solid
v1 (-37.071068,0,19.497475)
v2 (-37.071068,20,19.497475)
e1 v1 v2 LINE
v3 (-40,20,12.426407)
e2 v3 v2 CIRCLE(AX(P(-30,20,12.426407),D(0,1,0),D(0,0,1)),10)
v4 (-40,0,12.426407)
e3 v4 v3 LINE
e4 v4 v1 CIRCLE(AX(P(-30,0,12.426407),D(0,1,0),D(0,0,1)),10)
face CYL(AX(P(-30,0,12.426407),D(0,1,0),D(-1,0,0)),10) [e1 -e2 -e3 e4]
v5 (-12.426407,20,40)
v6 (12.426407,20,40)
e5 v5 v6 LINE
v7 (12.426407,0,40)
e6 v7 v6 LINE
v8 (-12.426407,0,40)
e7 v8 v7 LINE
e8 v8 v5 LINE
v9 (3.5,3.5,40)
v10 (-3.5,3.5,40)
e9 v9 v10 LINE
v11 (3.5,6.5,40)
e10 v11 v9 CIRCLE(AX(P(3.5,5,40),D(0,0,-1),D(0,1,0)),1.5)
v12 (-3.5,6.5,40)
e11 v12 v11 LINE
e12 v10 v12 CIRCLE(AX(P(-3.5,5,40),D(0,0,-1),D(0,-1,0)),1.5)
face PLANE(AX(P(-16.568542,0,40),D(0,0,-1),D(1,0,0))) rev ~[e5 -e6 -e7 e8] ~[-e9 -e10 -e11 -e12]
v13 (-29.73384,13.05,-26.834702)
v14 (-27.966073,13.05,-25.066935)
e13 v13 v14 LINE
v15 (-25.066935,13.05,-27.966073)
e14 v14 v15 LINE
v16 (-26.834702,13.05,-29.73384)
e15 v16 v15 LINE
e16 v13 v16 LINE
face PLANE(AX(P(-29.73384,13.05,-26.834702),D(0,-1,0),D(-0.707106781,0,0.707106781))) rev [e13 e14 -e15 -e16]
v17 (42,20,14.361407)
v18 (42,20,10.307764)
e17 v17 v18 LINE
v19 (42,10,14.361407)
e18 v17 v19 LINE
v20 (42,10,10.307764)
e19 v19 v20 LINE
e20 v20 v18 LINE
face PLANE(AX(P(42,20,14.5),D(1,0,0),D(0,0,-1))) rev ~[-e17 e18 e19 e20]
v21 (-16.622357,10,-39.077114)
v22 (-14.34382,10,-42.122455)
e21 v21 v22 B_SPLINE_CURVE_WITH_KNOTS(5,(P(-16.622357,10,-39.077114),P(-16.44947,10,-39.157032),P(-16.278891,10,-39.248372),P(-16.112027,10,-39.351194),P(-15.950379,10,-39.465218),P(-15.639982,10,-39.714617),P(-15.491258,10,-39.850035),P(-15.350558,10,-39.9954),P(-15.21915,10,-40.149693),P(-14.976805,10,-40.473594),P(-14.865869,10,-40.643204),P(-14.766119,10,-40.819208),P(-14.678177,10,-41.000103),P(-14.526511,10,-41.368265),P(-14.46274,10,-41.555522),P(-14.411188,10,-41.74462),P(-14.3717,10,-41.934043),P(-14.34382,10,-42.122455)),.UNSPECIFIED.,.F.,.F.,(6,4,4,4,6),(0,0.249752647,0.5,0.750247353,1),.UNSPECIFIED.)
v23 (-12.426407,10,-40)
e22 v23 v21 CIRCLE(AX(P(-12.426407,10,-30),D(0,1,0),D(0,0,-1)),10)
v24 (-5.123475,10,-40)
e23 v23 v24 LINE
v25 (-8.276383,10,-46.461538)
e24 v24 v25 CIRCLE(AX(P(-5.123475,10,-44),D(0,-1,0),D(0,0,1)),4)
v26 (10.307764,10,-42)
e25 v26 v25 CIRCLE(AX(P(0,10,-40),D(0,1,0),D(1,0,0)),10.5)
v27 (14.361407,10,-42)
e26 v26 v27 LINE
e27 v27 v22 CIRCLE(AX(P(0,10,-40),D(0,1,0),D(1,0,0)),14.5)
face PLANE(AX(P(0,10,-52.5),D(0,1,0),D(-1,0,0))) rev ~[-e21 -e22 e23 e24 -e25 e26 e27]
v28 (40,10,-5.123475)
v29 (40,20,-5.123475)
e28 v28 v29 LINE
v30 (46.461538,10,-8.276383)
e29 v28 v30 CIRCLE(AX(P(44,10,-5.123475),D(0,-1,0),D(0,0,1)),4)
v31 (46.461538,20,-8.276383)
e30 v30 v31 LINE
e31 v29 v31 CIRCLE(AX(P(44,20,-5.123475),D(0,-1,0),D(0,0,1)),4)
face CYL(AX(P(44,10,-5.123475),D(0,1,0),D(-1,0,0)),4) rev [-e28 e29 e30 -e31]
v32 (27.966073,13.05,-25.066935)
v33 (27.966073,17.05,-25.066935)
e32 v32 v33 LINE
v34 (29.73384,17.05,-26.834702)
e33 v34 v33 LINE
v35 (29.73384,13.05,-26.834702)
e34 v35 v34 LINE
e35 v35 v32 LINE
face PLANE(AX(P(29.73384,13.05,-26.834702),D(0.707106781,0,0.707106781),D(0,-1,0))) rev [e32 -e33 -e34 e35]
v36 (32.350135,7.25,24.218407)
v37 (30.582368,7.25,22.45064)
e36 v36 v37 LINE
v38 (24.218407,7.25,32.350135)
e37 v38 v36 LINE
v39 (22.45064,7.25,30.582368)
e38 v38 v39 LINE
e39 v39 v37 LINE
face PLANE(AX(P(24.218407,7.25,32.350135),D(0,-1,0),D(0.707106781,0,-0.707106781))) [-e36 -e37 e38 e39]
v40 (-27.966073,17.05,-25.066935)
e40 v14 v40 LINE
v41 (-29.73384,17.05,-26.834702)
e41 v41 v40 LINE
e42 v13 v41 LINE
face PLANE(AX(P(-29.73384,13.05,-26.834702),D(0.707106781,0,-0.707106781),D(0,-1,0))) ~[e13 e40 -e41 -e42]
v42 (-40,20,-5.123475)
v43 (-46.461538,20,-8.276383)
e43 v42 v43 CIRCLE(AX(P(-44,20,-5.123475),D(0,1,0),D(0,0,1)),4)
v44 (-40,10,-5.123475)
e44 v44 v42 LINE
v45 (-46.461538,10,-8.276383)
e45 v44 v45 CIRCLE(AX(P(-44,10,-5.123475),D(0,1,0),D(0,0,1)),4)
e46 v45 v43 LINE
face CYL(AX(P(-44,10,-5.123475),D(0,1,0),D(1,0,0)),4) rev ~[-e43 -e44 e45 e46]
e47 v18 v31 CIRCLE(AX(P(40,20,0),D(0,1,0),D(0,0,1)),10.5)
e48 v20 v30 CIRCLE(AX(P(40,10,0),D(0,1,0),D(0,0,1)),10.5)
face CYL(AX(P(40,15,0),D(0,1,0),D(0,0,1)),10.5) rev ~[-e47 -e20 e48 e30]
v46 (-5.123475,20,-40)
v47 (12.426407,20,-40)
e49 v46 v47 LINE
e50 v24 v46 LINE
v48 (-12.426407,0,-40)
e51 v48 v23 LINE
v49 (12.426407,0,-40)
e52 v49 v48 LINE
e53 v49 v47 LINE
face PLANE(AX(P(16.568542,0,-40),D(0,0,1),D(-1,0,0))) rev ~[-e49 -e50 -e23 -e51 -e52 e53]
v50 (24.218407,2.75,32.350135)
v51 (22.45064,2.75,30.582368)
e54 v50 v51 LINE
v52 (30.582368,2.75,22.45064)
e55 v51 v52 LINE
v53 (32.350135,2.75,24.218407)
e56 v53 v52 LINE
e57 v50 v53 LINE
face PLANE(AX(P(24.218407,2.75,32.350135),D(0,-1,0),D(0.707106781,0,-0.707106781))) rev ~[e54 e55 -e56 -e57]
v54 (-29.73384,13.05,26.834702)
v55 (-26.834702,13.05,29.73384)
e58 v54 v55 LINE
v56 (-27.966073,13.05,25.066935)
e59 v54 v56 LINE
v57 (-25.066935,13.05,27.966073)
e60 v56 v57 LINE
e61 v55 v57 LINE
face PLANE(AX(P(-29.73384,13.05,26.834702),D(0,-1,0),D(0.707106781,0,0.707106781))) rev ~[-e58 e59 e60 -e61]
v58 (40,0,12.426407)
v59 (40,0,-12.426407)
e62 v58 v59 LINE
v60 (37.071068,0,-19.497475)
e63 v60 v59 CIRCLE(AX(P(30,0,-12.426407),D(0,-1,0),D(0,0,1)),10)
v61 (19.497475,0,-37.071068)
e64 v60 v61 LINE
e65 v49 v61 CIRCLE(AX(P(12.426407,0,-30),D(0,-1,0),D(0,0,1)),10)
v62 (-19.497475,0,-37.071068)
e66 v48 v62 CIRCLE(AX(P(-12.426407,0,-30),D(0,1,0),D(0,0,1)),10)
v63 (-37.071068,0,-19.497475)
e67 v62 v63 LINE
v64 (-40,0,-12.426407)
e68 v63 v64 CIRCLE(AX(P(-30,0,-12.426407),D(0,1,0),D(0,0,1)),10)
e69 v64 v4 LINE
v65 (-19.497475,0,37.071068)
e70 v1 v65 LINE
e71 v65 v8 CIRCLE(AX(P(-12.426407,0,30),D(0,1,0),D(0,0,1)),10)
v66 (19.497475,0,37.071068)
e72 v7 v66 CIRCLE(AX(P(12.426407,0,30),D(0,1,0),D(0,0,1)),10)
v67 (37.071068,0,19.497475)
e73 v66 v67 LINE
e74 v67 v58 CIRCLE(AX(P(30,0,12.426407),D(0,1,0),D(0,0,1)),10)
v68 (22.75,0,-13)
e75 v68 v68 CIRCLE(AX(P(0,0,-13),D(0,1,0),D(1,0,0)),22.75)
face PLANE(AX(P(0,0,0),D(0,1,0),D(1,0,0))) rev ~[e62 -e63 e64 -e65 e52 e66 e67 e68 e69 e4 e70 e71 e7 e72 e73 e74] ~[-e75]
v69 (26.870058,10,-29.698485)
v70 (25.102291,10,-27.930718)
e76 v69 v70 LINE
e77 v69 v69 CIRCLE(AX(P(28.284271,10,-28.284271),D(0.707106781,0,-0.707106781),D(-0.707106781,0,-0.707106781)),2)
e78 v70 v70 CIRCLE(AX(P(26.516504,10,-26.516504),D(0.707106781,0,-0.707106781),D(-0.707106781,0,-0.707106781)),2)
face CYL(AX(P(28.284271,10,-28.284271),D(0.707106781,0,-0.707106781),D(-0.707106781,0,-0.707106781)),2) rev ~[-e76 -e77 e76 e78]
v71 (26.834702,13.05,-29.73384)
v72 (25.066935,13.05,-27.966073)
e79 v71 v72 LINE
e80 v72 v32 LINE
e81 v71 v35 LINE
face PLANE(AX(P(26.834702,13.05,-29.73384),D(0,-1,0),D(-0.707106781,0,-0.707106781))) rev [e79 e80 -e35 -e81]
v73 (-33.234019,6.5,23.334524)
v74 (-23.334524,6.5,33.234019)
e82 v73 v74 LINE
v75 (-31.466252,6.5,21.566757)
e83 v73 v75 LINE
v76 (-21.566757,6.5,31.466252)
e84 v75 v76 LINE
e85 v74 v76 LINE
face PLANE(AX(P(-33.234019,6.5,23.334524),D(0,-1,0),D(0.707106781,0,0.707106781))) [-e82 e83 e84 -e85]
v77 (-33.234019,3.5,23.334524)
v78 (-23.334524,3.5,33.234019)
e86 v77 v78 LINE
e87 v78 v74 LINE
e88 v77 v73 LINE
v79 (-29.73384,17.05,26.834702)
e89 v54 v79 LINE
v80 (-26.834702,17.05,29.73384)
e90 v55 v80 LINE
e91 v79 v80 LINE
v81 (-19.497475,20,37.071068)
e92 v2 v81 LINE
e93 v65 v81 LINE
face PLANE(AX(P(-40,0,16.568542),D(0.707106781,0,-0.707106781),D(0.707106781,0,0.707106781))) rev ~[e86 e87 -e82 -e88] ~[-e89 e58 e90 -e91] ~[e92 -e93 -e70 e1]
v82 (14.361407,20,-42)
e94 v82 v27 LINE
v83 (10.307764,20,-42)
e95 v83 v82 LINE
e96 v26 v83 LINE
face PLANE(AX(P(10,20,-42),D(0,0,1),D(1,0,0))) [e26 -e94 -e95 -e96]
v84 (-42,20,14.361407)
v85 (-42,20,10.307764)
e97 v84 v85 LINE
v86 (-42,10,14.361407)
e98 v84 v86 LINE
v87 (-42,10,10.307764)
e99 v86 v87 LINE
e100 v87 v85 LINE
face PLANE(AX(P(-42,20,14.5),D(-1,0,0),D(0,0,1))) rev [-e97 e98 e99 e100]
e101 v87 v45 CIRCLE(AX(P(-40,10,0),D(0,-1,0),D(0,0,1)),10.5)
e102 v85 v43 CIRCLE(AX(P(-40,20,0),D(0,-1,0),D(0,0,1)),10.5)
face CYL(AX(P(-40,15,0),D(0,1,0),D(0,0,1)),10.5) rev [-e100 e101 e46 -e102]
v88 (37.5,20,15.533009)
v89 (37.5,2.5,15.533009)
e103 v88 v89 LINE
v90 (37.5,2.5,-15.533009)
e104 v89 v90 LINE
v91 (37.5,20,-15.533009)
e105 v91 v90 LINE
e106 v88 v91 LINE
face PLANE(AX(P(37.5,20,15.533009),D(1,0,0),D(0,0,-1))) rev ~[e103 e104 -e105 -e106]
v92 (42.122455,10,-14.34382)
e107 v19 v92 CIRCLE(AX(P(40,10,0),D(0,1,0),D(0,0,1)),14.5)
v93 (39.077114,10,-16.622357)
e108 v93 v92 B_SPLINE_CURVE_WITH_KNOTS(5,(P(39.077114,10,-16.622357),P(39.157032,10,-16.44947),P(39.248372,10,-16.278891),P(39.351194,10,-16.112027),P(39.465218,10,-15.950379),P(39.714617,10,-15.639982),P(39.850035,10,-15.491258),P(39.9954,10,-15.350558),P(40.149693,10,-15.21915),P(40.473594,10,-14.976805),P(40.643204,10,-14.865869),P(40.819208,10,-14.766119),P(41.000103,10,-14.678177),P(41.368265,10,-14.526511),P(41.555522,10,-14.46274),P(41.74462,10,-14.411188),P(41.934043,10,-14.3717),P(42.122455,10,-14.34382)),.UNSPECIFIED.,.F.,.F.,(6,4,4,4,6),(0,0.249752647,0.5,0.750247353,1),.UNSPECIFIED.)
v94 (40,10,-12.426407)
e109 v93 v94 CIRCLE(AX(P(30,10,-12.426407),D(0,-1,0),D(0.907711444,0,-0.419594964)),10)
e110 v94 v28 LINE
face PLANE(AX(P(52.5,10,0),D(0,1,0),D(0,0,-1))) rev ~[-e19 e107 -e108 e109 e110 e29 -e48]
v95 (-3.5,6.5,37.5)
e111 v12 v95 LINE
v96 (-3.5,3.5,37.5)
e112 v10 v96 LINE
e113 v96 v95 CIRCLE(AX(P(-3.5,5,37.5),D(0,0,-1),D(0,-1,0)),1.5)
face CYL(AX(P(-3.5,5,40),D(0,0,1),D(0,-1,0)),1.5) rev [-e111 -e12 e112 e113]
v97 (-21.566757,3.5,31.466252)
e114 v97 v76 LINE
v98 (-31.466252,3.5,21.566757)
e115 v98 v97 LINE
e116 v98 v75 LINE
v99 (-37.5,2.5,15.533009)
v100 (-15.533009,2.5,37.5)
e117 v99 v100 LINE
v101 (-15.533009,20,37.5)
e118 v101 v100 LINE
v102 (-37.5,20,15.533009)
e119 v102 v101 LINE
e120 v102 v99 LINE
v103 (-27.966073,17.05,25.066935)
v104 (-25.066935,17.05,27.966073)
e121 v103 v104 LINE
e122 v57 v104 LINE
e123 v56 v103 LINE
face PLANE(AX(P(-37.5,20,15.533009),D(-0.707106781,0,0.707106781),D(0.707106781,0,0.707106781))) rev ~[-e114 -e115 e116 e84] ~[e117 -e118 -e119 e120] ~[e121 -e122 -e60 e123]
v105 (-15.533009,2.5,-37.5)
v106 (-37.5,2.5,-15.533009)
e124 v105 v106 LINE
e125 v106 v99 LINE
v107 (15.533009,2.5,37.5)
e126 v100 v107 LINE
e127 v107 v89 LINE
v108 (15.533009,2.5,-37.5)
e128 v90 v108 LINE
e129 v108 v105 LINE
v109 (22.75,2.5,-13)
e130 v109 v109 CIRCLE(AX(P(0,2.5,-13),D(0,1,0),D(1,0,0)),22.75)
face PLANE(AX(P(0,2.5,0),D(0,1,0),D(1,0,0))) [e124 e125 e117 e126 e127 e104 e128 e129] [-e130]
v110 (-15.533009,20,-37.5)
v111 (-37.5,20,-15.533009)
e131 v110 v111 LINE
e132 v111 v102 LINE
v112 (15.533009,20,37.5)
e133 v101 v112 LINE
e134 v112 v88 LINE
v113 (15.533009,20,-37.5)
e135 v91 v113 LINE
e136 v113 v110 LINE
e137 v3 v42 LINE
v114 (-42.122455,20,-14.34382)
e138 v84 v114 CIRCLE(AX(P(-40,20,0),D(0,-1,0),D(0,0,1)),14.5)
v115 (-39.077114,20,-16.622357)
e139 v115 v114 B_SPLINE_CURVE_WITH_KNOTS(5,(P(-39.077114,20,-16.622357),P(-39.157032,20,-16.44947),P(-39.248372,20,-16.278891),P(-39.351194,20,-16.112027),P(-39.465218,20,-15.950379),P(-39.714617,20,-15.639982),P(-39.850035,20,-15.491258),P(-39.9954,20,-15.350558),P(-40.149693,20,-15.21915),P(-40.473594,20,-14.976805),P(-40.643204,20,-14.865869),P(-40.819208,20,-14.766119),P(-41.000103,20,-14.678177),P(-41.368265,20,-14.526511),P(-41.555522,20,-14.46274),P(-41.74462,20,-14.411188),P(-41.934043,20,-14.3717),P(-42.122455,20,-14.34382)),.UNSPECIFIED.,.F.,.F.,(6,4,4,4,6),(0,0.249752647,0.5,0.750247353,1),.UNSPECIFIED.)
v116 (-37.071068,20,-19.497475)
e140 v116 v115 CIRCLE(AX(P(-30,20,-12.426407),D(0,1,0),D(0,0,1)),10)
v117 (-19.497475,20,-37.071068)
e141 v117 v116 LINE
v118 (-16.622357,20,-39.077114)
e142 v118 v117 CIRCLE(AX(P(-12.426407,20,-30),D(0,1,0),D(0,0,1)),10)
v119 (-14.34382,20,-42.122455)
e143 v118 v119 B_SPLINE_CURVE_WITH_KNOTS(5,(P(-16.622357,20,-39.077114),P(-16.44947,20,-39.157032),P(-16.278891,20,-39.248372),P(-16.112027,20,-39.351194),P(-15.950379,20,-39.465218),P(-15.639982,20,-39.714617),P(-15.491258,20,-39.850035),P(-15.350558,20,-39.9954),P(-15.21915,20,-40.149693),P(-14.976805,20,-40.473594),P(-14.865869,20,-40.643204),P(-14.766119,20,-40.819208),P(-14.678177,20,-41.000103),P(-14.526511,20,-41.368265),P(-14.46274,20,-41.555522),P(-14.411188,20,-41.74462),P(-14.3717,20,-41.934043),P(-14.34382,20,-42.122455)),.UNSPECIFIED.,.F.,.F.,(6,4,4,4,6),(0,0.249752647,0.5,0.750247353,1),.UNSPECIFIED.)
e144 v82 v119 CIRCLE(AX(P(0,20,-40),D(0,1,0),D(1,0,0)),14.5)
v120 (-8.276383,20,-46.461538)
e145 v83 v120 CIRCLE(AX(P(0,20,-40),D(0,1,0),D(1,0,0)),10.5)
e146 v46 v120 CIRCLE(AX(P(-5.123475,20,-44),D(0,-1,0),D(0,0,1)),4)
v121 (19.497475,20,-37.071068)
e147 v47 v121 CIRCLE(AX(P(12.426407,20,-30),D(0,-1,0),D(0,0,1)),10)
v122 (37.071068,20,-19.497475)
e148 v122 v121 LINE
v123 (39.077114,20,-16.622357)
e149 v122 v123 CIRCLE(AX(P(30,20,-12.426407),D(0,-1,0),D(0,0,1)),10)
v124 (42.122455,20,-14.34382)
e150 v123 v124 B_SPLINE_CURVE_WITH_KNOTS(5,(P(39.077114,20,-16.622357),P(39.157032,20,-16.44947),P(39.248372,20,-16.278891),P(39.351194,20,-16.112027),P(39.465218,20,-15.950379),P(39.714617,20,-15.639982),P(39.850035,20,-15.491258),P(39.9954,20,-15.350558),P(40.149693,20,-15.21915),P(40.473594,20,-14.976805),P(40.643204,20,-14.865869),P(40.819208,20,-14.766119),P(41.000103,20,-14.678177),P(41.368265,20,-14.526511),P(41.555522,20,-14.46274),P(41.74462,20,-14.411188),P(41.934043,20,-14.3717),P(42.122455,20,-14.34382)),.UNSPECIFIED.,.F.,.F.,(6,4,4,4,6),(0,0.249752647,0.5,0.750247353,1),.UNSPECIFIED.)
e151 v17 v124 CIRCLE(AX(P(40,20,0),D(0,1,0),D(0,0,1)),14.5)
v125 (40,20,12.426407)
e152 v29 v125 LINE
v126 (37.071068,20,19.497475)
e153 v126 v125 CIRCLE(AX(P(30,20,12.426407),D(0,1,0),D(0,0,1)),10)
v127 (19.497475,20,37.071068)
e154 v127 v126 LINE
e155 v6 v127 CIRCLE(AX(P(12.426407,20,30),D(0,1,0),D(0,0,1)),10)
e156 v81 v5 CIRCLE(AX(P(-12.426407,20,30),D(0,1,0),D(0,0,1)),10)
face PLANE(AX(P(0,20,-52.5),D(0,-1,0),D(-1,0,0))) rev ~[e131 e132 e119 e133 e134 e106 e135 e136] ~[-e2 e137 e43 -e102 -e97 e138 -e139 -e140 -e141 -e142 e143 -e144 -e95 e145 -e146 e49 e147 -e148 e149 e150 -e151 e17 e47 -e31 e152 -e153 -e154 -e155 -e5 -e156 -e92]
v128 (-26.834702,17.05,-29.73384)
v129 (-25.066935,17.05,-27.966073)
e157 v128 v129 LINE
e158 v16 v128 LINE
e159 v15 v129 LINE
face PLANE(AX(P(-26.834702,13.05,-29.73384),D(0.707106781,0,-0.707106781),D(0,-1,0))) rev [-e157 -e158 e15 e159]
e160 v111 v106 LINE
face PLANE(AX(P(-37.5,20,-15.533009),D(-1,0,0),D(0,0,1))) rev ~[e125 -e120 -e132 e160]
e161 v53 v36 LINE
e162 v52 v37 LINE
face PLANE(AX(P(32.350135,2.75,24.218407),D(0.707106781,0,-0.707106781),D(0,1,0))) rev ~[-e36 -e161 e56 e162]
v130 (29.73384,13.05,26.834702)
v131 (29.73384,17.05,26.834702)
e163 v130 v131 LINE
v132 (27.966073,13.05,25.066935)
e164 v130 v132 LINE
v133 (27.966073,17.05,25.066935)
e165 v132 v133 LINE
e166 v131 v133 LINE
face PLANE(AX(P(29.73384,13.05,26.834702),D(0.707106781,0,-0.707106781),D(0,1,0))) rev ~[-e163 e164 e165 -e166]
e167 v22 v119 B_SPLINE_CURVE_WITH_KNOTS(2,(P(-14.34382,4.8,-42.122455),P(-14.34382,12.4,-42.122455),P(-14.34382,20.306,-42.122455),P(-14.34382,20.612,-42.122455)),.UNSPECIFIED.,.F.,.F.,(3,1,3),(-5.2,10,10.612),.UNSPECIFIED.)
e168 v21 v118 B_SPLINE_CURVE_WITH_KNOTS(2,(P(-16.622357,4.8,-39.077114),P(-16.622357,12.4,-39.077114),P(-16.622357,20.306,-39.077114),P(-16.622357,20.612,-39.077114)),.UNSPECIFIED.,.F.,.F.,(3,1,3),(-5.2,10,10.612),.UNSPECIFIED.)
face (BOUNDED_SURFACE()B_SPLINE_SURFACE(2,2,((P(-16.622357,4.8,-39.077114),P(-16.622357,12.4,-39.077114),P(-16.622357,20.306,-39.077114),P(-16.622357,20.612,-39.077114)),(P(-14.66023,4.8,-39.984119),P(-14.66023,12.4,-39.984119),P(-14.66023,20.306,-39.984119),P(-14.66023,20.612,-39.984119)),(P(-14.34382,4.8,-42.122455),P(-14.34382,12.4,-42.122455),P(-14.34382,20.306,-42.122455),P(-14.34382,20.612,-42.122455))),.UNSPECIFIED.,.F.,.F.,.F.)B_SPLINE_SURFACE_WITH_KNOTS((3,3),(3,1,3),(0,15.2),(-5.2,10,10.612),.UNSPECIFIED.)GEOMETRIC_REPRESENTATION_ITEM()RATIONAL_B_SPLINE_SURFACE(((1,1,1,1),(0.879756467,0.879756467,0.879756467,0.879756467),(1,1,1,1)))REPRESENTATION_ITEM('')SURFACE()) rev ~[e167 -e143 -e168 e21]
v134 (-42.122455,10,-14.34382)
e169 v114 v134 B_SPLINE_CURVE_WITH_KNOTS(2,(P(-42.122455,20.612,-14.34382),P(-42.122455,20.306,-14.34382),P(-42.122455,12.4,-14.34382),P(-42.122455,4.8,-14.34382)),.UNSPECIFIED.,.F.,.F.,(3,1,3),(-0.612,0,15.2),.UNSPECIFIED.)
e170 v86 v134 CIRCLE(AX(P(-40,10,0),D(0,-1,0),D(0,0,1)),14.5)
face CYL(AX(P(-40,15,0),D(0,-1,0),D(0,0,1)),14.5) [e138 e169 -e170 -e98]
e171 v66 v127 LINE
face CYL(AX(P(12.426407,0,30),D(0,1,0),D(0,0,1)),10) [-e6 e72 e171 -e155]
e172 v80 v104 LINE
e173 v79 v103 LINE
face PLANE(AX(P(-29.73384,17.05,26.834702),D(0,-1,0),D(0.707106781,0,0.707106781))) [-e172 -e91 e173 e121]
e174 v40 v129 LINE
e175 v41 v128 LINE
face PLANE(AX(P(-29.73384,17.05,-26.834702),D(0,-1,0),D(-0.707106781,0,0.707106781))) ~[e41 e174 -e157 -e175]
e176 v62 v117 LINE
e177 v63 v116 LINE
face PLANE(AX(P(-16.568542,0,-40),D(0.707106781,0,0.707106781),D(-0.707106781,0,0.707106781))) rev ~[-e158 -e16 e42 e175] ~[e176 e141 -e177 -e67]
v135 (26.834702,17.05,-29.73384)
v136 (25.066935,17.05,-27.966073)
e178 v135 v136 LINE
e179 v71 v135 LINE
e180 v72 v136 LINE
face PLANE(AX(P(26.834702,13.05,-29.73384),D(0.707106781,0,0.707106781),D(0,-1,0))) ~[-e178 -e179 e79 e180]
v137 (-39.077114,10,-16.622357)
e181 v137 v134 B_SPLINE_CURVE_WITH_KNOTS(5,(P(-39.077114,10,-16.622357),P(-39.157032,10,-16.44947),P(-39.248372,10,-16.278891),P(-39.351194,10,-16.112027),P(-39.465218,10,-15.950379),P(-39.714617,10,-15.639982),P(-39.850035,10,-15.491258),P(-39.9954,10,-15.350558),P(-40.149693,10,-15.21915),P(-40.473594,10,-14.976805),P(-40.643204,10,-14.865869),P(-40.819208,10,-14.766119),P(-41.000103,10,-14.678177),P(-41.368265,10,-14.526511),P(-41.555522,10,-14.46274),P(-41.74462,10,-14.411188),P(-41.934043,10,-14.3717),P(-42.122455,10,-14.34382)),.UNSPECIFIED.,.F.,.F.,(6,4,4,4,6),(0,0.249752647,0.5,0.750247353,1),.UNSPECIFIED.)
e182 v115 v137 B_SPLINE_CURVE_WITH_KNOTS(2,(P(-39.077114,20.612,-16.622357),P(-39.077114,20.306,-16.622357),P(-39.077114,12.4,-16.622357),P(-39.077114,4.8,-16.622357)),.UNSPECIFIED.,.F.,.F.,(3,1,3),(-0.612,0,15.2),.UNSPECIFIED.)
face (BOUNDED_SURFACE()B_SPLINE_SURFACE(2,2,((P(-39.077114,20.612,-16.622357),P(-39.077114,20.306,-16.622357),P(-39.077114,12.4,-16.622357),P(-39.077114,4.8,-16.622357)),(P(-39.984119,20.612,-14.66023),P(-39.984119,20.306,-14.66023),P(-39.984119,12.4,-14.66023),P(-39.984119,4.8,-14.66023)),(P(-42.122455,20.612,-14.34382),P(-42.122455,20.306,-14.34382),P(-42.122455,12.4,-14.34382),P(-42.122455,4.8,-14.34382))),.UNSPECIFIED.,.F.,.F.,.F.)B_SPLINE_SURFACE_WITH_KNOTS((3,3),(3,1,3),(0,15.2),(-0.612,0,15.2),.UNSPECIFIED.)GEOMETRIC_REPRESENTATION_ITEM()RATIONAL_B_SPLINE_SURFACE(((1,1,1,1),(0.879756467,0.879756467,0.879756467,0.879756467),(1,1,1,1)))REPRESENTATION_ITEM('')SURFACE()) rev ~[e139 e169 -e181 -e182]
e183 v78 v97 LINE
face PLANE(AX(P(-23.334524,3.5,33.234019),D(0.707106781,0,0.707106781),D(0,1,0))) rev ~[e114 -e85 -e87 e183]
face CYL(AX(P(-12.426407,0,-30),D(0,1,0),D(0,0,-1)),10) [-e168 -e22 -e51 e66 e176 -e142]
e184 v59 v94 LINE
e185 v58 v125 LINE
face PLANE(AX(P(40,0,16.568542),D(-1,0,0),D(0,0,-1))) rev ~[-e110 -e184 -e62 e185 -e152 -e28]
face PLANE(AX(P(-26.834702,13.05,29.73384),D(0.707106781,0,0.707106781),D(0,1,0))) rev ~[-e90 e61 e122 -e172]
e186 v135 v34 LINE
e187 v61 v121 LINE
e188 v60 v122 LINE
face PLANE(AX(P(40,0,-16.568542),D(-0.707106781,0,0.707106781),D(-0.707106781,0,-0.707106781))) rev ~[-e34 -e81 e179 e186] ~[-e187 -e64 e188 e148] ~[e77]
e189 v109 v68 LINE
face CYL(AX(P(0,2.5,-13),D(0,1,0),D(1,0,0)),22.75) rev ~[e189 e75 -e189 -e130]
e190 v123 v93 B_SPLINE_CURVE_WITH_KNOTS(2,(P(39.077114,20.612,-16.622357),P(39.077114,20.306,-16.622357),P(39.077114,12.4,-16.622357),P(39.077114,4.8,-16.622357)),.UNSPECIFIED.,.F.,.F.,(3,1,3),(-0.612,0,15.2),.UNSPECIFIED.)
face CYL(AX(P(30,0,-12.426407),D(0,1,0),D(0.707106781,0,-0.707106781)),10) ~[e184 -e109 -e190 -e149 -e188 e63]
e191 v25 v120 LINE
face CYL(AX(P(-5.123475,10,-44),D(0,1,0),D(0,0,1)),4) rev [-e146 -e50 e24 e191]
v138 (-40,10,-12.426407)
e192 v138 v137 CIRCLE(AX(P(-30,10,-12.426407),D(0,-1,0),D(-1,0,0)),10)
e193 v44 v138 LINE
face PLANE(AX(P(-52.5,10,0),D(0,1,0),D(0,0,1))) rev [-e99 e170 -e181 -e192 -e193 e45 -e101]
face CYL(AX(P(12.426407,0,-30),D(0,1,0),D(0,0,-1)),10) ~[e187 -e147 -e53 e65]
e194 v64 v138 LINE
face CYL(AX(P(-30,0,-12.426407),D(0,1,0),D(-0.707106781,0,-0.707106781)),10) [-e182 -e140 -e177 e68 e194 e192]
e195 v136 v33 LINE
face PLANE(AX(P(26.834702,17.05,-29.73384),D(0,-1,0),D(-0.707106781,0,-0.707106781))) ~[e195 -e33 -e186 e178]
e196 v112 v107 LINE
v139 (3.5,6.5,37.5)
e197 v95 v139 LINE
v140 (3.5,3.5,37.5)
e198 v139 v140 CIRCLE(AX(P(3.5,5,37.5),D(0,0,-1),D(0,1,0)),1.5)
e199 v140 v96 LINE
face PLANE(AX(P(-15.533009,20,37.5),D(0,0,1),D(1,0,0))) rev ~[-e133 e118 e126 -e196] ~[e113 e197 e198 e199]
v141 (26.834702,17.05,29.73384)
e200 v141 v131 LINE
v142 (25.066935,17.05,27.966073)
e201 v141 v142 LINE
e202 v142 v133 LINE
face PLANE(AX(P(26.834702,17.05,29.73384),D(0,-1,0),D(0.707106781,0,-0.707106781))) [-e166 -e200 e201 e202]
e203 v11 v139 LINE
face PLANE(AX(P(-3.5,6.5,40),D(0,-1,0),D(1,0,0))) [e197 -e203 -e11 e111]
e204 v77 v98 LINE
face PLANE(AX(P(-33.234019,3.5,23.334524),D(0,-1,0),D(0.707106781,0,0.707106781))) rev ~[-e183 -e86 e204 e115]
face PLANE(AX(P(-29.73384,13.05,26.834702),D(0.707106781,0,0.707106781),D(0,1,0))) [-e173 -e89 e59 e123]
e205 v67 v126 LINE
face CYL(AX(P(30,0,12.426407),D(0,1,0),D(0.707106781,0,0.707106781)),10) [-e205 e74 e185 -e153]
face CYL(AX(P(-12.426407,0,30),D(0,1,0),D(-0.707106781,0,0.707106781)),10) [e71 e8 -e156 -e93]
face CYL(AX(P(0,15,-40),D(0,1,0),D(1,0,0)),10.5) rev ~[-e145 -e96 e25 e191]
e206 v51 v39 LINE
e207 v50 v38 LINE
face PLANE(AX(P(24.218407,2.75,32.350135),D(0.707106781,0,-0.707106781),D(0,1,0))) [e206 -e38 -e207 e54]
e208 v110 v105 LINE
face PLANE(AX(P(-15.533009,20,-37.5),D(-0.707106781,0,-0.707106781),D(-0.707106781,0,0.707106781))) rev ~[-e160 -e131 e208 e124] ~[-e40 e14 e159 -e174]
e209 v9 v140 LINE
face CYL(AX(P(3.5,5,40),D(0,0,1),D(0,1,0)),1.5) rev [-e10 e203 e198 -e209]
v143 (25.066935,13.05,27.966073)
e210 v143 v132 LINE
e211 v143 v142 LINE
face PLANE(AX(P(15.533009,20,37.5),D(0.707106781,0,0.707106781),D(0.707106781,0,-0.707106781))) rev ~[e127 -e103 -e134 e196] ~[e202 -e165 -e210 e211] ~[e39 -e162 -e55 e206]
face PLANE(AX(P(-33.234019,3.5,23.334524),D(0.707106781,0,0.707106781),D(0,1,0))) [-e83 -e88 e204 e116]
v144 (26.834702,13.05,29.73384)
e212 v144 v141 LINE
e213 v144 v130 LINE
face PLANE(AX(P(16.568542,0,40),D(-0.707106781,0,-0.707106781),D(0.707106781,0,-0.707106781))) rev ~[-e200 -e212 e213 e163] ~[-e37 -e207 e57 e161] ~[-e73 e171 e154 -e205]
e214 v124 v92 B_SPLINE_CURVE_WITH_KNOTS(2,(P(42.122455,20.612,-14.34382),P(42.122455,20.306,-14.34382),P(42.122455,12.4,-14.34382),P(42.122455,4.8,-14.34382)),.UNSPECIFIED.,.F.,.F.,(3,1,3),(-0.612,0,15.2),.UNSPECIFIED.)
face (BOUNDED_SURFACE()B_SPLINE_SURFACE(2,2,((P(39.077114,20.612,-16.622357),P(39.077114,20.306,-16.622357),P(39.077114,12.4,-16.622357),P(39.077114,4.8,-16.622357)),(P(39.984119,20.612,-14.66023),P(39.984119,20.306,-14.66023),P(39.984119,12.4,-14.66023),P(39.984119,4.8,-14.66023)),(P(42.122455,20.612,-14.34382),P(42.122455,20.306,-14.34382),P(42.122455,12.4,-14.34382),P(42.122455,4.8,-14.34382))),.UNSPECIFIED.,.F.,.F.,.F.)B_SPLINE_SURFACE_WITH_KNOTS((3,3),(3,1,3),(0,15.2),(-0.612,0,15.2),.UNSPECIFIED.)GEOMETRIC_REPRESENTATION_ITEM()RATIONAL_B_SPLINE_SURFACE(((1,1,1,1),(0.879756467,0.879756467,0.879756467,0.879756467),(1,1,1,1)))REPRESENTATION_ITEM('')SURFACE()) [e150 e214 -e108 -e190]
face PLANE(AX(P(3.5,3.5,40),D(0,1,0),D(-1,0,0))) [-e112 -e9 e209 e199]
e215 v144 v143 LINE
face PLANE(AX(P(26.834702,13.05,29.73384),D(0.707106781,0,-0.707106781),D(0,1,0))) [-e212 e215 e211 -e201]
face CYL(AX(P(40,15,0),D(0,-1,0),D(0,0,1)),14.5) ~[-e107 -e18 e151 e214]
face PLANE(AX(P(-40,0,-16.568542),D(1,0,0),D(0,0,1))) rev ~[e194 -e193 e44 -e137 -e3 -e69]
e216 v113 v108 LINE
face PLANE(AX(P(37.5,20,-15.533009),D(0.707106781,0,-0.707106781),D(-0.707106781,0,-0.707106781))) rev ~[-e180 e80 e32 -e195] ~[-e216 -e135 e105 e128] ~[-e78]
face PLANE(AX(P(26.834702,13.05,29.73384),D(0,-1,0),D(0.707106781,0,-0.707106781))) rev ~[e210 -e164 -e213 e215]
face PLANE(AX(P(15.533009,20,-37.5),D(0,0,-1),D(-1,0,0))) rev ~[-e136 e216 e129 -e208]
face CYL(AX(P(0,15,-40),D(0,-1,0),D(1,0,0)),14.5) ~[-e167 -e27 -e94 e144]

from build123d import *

# Parameters (mm, degrees)
BOSS_EXTRUDE1_DEPTH = 20
SKETCH5_W           = 4
SKETCH5_H           = 10
SKETCH16_W          = 2
SKETCH16_H          = 4.5
CUT_EXTRUDE9_DEPTH  = 10
SKETCH19_W          = 4
SKETCH19_H          = 10
CUT_EXTRUDE4_DEPTH  = 17.5
CUT_EXTRUDE5_DEPTH  = 2.5
SKETCH15_W          = 11.5
SKETCH15_H          = 4.5
CUT_EXTRUDE8_DEPTH  = 2.5
SKETCH17_W          = 14
SKETCH17_H          = 3
CUT_EXTRUDE10_DEPTH = 2.5
SKETCH21_W          = 4.5
SKETCH21_H          = 2
CUT_EXTRUDE11_DEPTH = 10
SKETCH22_R          = 2
CUT_EXTRUDE12_DEPTH = 2.5
FILLET1_R           = 10
FILLET2_R           = 4
SKETCH24_W          = 4.1
SKETCH24_H          = 4
CUT_EXTRUDE14_DEPTH = 77.5
SKETCH28_W          = 4.1
SKETCH28_H          = 4
CUT_EXTRUDE15_DEPTH = 77.5
SKETCH23_R          = 22.75
CUT_EXTRUDE13_DEPTH = 2.5


with BuildPart() as part:
    # Sketch1 → Boss-Extrude1 (new body)
    with BuildSketch(Plane(origin=(0, 0, 0), x_dir=(1, 0, 0), z_dir=(0, 1, 0))):
        Polygon((16.568542495, 40), (-16.568542495, 40), (-40, 16.568542495), (-40, -16.568542495), (-16.568542495, -40), (16.568542495, -40), (40, -16.568542495), (40, 16.568542495), align=None)
    extrude(amount=BOSS_EXTRUDE1_DEPTH)

    # Sweep9: sweep along a path in Sketch7
    with BuildLine(Plane(origin=(0, 15, 0), x_dir=(1, 0, 0), z_dir=(0, 1, 0))) as sweep9_path:
        ThreePointArc((40, -10.5), (50.5, 0), (40, 10.5))
    # Sketch5 → Sweep9 (sweep)
    with BuildSketch(Plane(origin=(40, 0, 0), x_dir=(0, 0, -1), z_dir=(1, 0, 0))):
        with Locations((-12.5, 15)):
            Rectangle(SKETCH5_W, SKETCH5_H)
        with Locations((12.5, 15)):
            Rectangle(SKETCH5_W, SKETCH5_H)
    sweep9 = sweep(path=sweep9_path.line)

    # Sketch16 → Cut-Extrude9 (cut)
    with BuildSketch(Plane(origin=(0, 20, 0), x_dir=(1, 0, 0), z_dir=(0, 1, 0))):
        with Locations((41, -12.25)):
            Rectangle(SKETCH16_W, SKETCH16_H)
    cut_extrude9 = extrude(amount=-CUT_EXTRUDE9_DEPTH, mode=Mode.SUBTRACT)

    # Mirror1: Sweep9, Cut-Extrude9 across plane
    add(sweep9.mirror(Plane(origin=(0, 0, 0), x_dir=(0, 0, 1), z_dir=(1, 0, 0))))
    add(cut_extrude9.mirror(Plane(origin=(0, 0, 0), x_dir=(0, 0, 1), z_dir=(1, 0, 0))), mode=Mode.SUBTRACT)

    # Sweep10: sweep along a path in Sketch20
    with BuildLine(Plane(origin=(0, 15, 0), x_dir=(1, 0, 0), z_dir=(0, 1, 0))) as sweep10_path:
        ThreePointArc((10.5, 40), (0, 50.5), (-10.5, 40))
    # Sketch19 → Sweep10 (sweep)
    with BuildSketch(Plane(origin=(0, 0, -40), x_dir=(-1, 0, 0), z_dir=(0, 0, -1))):
        with Locations((-12.5, 15)):
            Rectangle(SKETCH19_W, SKETCH19_H)
        with Locations((12.5, 15)):
            Rectangle(SKETCH19_W, SKETCH19_H)
    sweep(path=sweep10_path.line)

    # Sketch6 → Cut-Extrude4 (cut)
    with BuildSketch(Plane(origin=(0, 20, 0), x_dir=(1, 0, 0), z_dir=(0, 1, 0))):
        Polygon((-15.533008589, -37.5), (15.533008589, -37.5), (37.5, -15.533008589), (37.5, 15.533008589), (15.533008589, 37.5), (-15.533008589, 37.5), (-37.5, 15.533008589), (-37.5, -15.533008589), align=None)
    extrude(amount=-CUT_EXTRUDE4_DEPTH, mode=Mode.SUBTRACT)

    # Sketch3 → Cut-Extrude5 (cut)
    with BuildSketch(Plane.XY.offset(40)):
        with BuildLine():
            Line((-3.5, 6.5), (3.5, 6.5))
            ThreePointArc((3.5, 6.5), (5, 5), (3.5, 3.5))
            Line((3.5, 3.5), (-3.5, 3.5))
            ThreePointArc((-3.5, 3.5), (-5, 5), (-3.5, 6.5))
        make_face()
    extrude(amount=-CUT_EXTRUDE5_DEPTH, mode=Mode.SUBTRACT)

    # Sketch15 → Cut-Extrude8 (cut)
    with BuildSketch(Plane(origin=(28.284271247, 0, 28.284271247), x_dir=(0.707106781, 0, -0.707106781), z_dir=(0.707106781, 0, 0.707106781))):
        with Locations((0, 5)):
            Rectangle(SKETCH15_W, SKETCH15_H)
    extrude(amount=-CUT_EXTRUDE8_DEPTH, mode=Mode.SUBTRACT)

    # Sketch17 → Cut-Extrude10 (cut)
    with BuildSketch(Plane(origin=(-28.284271247, 0, 28.284271247), x_dir=(0.707106781, 0, 0.707106781), z_dir=(-0.707106781, 0, 0.707106781))):
        with Locations((0, 5)):
            Rectangle(SKETCH17_W, SKETCH17_H)
    extrude(amount=-CUT_EXTRUDE10_DEPTH, mode=Mode.SUBTRACT)

    # Sketch21 → Cut-Extrude11 (cut)
    with BuildSketch(Plane(origin=(0, 20, 0), x_dir=(1, 0, 0), z_dir=(0, 1, 0))):
        with Locations((12.25, 41)):
            Rectangle(SKETCH21_W, SKETCH21_H)
    extrude(amount=-CUT_EXTRUDE11_DEPTH, mode=Mode.SUBTRACT)

    # Sketch22 → Cut-Extrude12 (cut)
    with BuildSketch(Plane(origin=(28.284271247, 0, -28.284271247), x_dir=(-0.707106781, 0, -0.707106781), z_dir=(0.707106781, 0, -0.707106781))):
        with Locations((0, 10)):
            Circle(SKETCH22_R)
    extrude(amount=-CUT_EXTRUDE12_DEPTH, mode=Mode.SUBTRACT)

    # Fillet1
    fillet1_edges = [part.edges().sort_by_distance(p)[0] for p in [
        (-40, 10, -16.568542495),
        (-16.568542495, 10, -40),
        (16.568542495, 10, -40),
        (40, 10, -16.568542495),
        (-40, 10, 16.568542495),
        (40, 10, 16.568542495),
        (16.568542495, 10, 40),
        (-16.568542495, 10, 40),
    ]]
    fillet(fillet1_edges, radius=FILLET1_R)

    # Fillet2
    fillet2_edges = [part.edges().sort_by_distance(p)[0] for p in [
        (-10.5, 15, -40),
        (40, 15, -10.5),
        (-39.782992577, 15, -14.498376039),
        (-14.498376039, 15, -39.782992577),
        (39.782992577, 15, -14.498376039),
        (-40, 15, -10.5),
    ]]
    fillet(fillet2_edges, radius=FILLET2_R)

    # Sketch24 → Cut-Extrude14 (cut)
    with BuildSketch(Plane(origin=(-28.284271247, 0, 28.284271247), x_dir=(0.707106781, 0, 0.707106781), z_dir=(-0.707106781, 0, 0.707106781))):
        with Locations((0, 15.05)):
            Rectangle(SKETCH24_W, SKETCH24_H)
    cut_extrude14 = extrude(amount=-CUT_EXTRUDE14_DEPTH, mode=Mode.SUBTRACT)

    # Mirror2: Cut-Extrude14 across plane
    add(cut_extrude14.mirror(Plane(origin=(0, 0, 0), x_dir=(0.707106781, 0, 0.707106781), z_dir=(-0.707106781, 0, 0.707106781))), mode=Mode.SUBTRACT)

    # Sketch28 → Cut-Extrude15 (cut)
    with BuildSketch(Plane(origin=(28.284271247, 0, 28.284271247), x_dir=(0.707106781, 0, -0.707106781), z_dir=(0.707106781, 0, 0.707106781))):
        with Locations((0, 15.05)):
            Rectangle(SKETCH28_W, SKETCH28_H)
    cut_extrude15 = extrude(amount=-CUT_EXTRUDE15_DEPTH, mode=Mode.SUBTRACT)

    # Mirror3: Cut-Extrude15 across plane
    add(cut_extrude15.mirror(Plane(origin=(0, 0, 0), x_dir=(-0.707106781, 0, 0.707106781), z_dir=(0.707106781, 0, 0.707106781))), mode=Mode.SUBTRACT)

    # Sketch23 → Cut-Extrude13 (cut)
    with BuildSketch(Plane(origin=(0, 2.5, 0), x_dir=(1, 0, 0), z_dir=(0, 1, 0))):
        with Locations((0, 13)):
            Circle(SKETCH23_R)
    extrude(amount=-CUT_EXTRUDE13_DEPTH, mode=Mode.SUBTRACT)


solid = part.part
